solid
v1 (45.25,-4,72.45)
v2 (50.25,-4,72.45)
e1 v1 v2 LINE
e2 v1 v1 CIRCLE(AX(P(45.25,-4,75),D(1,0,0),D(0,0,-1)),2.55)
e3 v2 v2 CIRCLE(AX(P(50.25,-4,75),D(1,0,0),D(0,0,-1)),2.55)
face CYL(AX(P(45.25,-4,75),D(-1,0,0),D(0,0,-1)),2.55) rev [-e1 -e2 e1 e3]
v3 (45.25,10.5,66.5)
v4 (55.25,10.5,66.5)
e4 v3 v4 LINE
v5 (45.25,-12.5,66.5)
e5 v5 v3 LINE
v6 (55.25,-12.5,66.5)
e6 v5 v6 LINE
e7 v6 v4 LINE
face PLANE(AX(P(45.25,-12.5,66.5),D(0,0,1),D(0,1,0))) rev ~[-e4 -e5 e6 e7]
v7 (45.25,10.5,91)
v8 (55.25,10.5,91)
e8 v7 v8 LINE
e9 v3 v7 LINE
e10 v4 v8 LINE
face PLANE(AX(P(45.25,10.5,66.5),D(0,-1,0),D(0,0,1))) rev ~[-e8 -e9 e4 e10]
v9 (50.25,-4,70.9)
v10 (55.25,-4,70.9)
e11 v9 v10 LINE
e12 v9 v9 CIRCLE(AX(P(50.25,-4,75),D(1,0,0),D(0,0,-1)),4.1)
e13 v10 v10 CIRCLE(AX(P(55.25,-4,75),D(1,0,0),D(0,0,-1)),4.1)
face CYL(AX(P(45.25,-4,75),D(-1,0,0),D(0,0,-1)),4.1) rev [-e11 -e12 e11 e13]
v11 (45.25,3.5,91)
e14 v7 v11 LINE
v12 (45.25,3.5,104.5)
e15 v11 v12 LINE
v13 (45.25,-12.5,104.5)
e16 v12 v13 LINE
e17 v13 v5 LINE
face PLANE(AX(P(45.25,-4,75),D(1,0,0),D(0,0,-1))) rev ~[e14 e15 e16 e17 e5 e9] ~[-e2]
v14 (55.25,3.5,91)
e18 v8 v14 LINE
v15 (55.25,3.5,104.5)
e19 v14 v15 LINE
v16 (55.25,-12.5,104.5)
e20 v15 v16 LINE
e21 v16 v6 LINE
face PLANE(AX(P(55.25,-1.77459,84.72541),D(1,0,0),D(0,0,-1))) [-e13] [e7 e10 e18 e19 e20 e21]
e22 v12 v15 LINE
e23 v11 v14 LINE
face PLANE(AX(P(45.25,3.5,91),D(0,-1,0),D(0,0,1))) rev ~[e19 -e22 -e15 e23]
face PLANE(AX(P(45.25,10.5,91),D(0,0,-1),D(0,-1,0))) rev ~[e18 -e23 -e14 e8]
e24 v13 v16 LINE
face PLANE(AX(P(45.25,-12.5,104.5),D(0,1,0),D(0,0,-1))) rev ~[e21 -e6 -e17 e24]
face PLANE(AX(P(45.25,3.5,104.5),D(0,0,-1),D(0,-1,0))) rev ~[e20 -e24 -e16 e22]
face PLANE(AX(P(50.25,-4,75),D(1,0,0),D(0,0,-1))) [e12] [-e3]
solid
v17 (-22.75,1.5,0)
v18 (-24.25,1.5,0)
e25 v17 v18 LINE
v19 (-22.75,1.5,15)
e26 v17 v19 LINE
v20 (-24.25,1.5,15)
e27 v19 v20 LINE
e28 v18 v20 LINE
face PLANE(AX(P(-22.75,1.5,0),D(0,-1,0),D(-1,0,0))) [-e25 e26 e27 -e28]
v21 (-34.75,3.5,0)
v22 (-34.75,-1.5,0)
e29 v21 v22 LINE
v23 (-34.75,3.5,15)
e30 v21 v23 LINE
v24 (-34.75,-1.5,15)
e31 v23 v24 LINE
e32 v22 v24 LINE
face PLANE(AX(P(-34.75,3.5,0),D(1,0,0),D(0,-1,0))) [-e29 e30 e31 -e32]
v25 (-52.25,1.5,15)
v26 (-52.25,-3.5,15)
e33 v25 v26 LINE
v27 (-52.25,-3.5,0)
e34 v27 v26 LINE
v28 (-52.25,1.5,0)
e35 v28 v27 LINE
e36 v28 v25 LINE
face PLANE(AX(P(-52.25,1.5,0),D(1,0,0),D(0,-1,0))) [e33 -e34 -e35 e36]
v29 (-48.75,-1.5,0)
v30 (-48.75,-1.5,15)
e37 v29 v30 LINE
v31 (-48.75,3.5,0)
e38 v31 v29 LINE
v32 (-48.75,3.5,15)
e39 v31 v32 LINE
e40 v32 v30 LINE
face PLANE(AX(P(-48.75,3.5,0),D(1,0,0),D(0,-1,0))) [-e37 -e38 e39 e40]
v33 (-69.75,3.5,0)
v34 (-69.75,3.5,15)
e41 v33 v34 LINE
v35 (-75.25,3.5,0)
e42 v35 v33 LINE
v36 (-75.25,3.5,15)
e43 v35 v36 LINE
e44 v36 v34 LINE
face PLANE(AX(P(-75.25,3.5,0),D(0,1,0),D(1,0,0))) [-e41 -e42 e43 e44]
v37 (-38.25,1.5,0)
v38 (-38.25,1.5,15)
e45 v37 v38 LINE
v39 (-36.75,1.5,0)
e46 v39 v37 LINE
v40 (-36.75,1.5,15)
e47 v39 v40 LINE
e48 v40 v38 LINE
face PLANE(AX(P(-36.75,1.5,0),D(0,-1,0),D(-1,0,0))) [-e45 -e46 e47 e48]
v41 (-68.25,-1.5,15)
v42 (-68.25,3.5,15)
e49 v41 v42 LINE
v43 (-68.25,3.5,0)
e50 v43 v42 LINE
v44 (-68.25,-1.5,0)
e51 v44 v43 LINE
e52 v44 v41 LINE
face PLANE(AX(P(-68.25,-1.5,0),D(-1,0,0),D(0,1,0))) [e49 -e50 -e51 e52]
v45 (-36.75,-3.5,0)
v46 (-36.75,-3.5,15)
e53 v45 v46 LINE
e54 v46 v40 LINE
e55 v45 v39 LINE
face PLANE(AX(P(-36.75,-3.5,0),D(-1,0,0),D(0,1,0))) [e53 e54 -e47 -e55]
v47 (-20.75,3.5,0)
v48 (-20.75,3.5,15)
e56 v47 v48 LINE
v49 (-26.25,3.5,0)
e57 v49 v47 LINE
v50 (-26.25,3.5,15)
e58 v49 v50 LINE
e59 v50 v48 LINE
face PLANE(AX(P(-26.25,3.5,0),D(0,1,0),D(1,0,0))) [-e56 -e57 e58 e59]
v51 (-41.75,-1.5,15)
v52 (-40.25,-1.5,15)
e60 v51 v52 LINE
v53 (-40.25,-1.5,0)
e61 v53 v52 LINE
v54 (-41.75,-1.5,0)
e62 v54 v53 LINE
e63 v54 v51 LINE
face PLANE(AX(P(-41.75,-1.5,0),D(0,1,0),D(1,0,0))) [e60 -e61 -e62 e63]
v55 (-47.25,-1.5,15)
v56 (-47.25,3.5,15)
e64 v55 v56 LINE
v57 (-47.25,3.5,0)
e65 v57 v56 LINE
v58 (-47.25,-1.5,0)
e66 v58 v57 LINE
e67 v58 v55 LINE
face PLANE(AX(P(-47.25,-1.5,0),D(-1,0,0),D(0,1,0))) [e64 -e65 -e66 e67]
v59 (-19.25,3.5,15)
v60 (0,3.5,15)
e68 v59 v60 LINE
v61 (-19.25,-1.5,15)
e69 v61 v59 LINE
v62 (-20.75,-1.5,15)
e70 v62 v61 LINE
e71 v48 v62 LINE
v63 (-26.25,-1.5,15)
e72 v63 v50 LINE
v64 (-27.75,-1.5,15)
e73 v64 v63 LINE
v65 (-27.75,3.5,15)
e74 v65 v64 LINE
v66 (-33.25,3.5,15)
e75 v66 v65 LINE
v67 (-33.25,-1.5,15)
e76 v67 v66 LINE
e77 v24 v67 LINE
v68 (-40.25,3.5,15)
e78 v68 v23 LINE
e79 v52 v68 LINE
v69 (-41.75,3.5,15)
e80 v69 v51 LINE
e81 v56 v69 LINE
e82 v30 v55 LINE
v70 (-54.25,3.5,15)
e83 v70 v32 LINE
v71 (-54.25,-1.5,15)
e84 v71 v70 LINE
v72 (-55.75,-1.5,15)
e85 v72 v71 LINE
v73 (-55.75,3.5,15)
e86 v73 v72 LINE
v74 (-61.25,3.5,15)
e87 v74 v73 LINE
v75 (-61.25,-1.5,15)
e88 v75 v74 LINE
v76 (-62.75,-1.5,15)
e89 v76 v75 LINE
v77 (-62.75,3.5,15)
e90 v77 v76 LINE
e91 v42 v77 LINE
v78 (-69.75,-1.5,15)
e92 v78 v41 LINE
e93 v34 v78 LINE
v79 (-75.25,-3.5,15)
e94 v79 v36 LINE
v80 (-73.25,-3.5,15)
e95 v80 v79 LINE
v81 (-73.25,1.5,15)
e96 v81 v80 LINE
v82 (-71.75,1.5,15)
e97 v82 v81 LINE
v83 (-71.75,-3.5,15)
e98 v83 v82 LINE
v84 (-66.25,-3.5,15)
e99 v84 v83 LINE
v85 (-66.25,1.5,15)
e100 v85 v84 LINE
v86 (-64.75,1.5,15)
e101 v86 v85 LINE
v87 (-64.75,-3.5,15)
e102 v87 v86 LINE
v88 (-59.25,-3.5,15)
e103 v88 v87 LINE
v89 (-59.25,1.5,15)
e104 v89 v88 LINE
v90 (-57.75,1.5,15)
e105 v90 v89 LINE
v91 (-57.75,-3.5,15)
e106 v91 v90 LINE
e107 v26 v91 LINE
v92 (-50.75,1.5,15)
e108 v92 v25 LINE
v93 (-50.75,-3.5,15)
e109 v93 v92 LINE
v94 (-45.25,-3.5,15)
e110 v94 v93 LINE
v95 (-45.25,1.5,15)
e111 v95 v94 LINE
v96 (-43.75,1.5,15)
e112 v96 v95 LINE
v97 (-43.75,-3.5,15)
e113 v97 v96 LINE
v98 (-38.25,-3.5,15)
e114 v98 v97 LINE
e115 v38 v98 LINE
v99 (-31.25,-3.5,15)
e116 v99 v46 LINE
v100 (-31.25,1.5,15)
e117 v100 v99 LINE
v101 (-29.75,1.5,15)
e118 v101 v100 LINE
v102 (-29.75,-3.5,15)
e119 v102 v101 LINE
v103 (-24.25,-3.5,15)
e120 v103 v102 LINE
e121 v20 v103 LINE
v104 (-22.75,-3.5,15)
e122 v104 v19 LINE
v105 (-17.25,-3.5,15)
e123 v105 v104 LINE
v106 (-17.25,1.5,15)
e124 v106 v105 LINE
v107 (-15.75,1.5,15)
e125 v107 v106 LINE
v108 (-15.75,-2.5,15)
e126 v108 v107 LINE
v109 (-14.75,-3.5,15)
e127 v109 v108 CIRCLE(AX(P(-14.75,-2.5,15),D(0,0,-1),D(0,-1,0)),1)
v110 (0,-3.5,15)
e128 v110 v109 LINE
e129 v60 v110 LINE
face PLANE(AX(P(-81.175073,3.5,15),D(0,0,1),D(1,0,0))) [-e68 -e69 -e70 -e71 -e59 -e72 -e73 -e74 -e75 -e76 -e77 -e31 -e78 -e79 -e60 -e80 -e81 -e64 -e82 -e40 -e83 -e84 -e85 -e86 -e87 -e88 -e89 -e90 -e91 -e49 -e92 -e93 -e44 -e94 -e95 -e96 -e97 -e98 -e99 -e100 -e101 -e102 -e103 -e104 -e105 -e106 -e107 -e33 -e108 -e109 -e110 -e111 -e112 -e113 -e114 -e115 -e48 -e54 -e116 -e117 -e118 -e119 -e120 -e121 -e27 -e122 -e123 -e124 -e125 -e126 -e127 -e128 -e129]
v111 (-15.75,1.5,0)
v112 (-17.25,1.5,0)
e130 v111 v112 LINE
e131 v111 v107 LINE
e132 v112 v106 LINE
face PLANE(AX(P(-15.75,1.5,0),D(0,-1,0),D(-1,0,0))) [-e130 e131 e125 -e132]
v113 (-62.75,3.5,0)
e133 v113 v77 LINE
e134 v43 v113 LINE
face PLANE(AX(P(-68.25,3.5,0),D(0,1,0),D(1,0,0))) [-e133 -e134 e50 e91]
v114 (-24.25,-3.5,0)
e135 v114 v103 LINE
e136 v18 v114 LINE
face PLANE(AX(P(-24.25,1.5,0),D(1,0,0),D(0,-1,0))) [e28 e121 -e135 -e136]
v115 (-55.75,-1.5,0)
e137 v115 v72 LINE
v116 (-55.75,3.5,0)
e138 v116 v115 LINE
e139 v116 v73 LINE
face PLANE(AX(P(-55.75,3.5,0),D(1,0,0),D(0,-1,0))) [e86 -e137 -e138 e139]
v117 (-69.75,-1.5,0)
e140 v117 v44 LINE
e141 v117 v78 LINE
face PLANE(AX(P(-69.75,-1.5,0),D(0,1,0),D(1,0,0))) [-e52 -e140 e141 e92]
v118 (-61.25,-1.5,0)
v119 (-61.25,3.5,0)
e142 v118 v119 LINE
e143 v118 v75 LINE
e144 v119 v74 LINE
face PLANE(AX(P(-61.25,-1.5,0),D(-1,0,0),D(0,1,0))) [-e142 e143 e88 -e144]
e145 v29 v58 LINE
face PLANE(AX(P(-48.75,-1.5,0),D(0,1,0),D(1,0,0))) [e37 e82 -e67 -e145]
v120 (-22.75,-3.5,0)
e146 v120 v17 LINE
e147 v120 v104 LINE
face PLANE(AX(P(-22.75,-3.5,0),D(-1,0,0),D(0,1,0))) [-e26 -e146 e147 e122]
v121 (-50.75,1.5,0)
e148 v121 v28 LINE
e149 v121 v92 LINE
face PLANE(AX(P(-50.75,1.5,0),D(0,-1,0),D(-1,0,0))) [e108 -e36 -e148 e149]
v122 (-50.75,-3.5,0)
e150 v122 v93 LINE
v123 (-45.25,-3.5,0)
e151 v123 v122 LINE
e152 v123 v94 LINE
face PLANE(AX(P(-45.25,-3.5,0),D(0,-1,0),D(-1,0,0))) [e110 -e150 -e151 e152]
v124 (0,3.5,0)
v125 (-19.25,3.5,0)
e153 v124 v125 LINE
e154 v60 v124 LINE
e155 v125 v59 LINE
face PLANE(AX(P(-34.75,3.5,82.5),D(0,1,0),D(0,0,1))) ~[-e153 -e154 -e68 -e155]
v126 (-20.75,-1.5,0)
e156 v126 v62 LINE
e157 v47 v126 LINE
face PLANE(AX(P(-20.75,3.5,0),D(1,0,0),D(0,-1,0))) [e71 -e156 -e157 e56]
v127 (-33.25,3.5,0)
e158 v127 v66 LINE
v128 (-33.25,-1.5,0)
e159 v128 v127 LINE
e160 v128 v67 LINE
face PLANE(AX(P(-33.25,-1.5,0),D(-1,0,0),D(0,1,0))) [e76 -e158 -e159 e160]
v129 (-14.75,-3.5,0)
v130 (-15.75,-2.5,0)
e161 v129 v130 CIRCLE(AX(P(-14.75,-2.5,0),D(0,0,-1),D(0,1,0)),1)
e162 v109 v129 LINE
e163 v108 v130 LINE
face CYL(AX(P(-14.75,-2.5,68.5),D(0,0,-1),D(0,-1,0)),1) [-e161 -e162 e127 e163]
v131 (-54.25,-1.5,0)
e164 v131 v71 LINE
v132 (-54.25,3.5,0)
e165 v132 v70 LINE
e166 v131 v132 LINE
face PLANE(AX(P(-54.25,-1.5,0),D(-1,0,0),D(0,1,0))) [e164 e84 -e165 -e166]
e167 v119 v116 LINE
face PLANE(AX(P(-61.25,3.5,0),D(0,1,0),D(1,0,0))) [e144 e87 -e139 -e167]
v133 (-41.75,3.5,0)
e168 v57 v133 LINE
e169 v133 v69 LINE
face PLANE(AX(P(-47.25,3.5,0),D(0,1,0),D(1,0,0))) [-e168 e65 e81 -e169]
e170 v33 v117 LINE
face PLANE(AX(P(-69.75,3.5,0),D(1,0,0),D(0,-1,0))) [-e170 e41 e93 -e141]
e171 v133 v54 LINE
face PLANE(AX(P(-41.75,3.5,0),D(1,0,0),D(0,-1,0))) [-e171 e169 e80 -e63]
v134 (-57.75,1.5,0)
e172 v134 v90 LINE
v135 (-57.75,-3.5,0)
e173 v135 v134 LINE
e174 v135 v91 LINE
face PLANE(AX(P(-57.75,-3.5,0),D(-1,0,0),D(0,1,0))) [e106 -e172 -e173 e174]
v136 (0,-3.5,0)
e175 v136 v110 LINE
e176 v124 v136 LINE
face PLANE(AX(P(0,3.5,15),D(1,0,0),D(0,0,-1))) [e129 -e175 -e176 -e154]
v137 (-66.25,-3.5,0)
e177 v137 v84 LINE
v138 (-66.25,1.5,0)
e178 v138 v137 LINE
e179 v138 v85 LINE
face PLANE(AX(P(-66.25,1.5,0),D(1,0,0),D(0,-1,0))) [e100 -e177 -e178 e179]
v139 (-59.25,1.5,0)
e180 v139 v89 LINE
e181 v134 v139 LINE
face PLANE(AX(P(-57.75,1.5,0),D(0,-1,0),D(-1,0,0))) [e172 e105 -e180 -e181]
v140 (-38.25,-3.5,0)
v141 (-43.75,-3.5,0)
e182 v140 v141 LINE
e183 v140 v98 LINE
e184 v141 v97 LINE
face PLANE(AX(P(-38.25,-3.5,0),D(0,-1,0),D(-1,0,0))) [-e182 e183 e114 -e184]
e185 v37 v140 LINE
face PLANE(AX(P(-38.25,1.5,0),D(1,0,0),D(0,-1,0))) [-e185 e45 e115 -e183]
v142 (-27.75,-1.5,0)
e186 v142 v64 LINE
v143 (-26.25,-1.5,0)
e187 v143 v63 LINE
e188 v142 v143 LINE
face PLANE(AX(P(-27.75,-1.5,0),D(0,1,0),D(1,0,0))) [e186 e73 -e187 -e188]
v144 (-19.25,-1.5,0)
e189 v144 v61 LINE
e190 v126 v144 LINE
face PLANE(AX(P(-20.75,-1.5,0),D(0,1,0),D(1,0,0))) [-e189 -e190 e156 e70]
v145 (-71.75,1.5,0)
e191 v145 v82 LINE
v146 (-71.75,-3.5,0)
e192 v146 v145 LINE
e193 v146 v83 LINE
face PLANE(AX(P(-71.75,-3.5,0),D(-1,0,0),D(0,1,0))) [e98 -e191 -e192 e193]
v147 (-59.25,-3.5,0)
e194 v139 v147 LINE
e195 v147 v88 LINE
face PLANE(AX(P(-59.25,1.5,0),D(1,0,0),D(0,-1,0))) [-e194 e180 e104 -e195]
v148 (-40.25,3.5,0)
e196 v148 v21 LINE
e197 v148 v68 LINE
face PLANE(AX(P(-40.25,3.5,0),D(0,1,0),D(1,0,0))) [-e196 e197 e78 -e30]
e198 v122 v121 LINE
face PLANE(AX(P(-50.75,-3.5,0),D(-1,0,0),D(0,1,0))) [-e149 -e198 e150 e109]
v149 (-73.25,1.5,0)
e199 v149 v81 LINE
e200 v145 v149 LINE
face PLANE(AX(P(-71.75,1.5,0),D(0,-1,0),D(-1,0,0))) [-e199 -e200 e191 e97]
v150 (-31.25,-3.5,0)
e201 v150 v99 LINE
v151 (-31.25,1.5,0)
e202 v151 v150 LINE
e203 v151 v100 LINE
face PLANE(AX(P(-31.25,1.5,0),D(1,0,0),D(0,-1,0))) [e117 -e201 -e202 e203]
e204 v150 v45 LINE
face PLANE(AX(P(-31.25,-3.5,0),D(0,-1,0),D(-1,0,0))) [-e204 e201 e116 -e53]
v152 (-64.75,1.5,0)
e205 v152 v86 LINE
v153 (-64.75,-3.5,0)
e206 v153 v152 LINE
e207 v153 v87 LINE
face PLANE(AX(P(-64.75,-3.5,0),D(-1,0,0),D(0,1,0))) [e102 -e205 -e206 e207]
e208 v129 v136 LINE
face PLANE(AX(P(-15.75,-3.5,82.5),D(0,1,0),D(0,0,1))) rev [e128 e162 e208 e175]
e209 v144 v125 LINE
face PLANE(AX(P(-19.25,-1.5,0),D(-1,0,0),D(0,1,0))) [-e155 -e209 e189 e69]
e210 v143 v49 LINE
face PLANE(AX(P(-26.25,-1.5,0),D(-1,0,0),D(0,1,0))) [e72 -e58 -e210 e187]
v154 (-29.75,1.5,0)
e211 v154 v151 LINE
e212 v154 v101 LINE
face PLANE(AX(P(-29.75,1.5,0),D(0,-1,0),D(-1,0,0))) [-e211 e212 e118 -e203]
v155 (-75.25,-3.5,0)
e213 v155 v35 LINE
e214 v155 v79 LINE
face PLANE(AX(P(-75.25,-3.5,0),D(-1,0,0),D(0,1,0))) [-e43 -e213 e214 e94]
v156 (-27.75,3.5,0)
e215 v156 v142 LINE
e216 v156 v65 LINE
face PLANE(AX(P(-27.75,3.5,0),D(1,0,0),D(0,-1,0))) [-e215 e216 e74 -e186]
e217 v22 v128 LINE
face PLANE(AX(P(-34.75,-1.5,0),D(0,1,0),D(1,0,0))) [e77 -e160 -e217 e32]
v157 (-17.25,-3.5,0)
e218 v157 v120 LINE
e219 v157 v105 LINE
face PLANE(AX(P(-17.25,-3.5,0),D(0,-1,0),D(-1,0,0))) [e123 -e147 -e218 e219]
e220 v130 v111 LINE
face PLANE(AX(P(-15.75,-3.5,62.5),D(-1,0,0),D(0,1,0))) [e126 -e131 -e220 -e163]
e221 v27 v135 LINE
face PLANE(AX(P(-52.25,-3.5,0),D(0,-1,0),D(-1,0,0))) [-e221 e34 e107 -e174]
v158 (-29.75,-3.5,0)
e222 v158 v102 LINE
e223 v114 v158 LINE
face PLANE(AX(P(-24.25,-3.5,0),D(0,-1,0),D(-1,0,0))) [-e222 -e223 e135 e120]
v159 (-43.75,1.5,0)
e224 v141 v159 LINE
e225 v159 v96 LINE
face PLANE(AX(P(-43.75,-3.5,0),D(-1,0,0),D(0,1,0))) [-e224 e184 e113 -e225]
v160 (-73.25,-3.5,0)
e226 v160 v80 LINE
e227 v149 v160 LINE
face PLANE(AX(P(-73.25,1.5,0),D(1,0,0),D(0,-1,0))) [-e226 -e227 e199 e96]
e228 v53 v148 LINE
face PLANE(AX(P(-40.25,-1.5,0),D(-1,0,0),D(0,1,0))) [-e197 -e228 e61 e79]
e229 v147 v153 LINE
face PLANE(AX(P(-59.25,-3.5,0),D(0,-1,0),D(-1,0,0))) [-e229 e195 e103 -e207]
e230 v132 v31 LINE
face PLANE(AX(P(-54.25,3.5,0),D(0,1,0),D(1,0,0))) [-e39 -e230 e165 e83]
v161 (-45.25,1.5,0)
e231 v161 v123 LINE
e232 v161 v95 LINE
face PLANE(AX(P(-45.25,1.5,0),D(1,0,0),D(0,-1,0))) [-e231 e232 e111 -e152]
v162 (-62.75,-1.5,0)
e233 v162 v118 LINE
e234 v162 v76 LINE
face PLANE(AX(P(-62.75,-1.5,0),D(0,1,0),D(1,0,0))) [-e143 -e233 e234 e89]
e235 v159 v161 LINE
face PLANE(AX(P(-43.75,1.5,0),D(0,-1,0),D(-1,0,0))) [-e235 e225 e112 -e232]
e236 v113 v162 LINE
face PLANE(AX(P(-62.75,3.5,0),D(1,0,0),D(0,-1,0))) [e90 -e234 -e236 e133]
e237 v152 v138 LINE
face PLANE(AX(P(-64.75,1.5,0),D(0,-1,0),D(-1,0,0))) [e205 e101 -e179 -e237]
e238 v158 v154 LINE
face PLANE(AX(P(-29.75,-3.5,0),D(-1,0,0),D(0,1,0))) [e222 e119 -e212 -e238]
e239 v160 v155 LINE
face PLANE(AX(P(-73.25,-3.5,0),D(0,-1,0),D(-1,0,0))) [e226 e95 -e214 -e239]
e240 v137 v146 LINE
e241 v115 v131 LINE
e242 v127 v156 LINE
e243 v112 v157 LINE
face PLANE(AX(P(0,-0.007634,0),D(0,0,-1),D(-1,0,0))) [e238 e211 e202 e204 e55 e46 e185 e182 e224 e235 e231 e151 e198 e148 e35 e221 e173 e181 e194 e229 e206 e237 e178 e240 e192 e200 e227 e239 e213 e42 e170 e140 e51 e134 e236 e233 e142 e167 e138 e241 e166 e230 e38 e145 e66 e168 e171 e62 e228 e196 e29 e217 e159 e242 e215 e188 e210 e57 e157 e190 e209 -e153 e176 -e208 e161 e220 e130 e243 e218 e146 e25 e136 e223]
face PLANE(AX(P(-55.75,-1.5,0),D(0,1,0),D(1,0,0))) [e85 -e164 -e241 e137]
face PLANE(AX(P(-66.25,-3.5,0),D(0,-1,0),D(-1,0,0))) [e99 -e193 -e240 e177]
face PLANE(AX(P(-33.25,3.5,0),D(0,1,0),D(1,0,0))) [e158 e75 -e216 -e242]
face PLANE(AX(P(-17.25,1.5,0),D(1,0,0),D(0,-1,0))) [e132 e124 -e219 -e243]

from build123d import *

# Parameters (mm, degrees)
BOSS_EXTRUDE1_DEPTH = 62.5
SKETCH2_W           = 31.5
SKETCH2_H           = 7
BOSS_EXTRUDE2_DEPTH = 20
SKETCH3_W           = 15
SKETCH3_H           = 7
BOSS_EXTRUDE3_DEPTH = 19
SKETCH4_W           = 15
SKETCH4_H           = 15
BOSS_EXTRUDE4_DEPTH = 10
SKETCH5_R           = 3.71375
CUT_EXTRUDE1_DEPTH  = 7
FILLET1_R           = 1
FILLET2_R           = 1
SKETCH7_R           = 4.1
BOSS_EXTRUDE5_DEPTH = 10
SKETCH7_3_R         = 4.1
SKETCH7_3_R_2       = 2.55
BOSS_EXTRUDE6_DEPTH = 5
SKETCH8_W           = 8
SKETCH8_H           = 50
BOSS_EXTRUDE7_DEPTH = 7
SKETCH9_W           = 3
SKETCH9_H           = 40
CUT_EXTRUDE2_DEPTH  = 10
CUT_EXTRUDE3_DEPTH  = 134.333463542


with BuildPart() as part:
    # Sketch1 → Boss-Extrude1 (new body)
    with BuildSketch(Plane.XY):
        Polygon((13.75, -3.5), (-13.75, -3.5), (-15.75, -3.5), (-15.75, 1.5), (-17.25, 1.5), (-17.25, -3.5), (-22.75, -3.5), (-22.75, 1.5), (-24.25, 1.5), (-24.25, -3.5), (-29.75, -3.5), (-29.75, 1.5), (-31.25, 1.5), (-31.25, -3.5), (-36.75, -3.5), (-36.75, 1.5), (-38.25, 1.5), (-38.25, -3.5), (-43.75, -3.5), (-43.75, 1.5), (-45.25, 1.5), (-45.25, -3.5), (-50.75, -3.5), (-50.75, 1.5), (-52.25, 1.5), (-52.25, -3.5), (-57.75, -3.5), (-57.75, 1.5), (-59.25, 1.5), (-59.25, -3.5), (-64.75, -3.5), (-64.75, 1.5), (-66.25, 1.5), (-66.25, -3.5), (-71.75, -3.5), (-71.75, 1.5), (-73.25, 1.5), (-73.25, -3.5), (-75.25, -3.5), (-75.25, 3.5), (-69.75, 3.5), (-69.75, -1.5), (-68.25, -1.5), (-68.25, 3.5), (-62.75, 3.5), (-62.75, -1.5), (-61.25, -1.5), (-61.25, 3.5), (-55.75, 3.5), (-55.75, -1.5), (-54.25, -1.5), (-54.25, 3.5), (-48.75, 3.5), (-48.75, -1.5), (-47.25, -1.5), (-47.25, 3.5), (-41.75, 3.5), (-41.75, -1.5), (-40.25, -1.5), (-40.25, 3.5), (-34.75, 3.5), (-34.75, -1.5), (-33.25, -1.5), (-33.25, 3.5), (-27.75, 3.5), (-27.75, -1.5), (-26.25, -1.5), (-26.25, 3.5), (-20.75, 3.5), (-20.75, -1.5), (-19.25, -1.5), (-19.25, 3.5), (-13.75, 3.5), (13.75, 3.5), (19.25, 3.5), (19.25, -1.5), (20.75, -1.5), (20.75, 3.5), (26.25, 3.5), (26.25, -1.5), (27.75, -1.5), (27.75, 3.5), (33.25, 3.5), (33.25, -1.5), (34.75, -1.5), (34.75, 3.5), (40.25, 3.5), (40.25, -1.5), (41.75, -1.5), (41.75, 3.5), (47.25, 3.5), (47.25, -1.5), (48.75, -1.5), (48.75, 3.5), (54.25, 3.5), (54.25, -1.5), (55.75, -1.5), (55.75, 3.5), (61.25, 3.5), (61.25, -1.5), (62.75, -1.5), (62.75, 3.5), (68.25, 3.5), (68.25, -1.5), (69.75, -1.5), (69.75, 3.5), (75.25, 3.5), (75.25, -3.5), (73.25, -3.5), (73.25, 1.5), (71.75, 1.5), (71.75, -3.5), (66.25, -3.5), (66.25, 1.5), (64.75, 1.5), (64.75, -3.5), (59.25, -3.5), (59.25, 1.5), (57.75, 1.5), (57.75, -3.5), (52.25, -3.5), (52.25, 1.5), (50.75, 1.5), (50.75, -3.5), (45.25, -3.5), (45.25, 1.5), (43.75, 1.5), (43.75, -3.5), (38.25, -3.5), (38.25, 1.5), (36.75, 1.5), (36.75, -3.5), (31.25, -3.5), (31.25, 1.5), (29.75, 1.5), (29.75, -3.5), (24.25, -3.5), (24.25, 1.5), (22.75, 1.5), (22.75, -3.5), (17.25, -3.5), (17.25, 1.5), (15.75, 1.5), (15.75, -3.5), align=None)
    extrude(amount=BOSS_EXTRUDE1_DEPTH)

    # Sketch2 → Boss-Extrude2 (add)
    with BuildSketch(Plane.XY.offset(62.5)):
        Rectangle(SKETCH2_W, SKETCH2_H)
    extrude(amount=BOSS_EXTRUDE2_DEPTH)

    # Sketch3 → Boss-Extrude3 (add)
    with BuildSketch(Plane(origin=(15.75, 0, 0), x_dir=(0, 0, -1), z_dir=(1, 0, 0))):
        with Locations((-75, 0)):
            Rectangle(SKETCH3_W, SKETCH3_H)
    boss_extrude3 = extrude(amount=BOSS_EXTRUDE3_DEPTH)

    # Mirror1: Boss-Extrude3 across plane
    add(boss_extrude3.mirror(Plane(origin=(0, 0, 0), x_dir=(0, 0, 1), z_dir=(1, 0, 0))))

    # Sketch4 → Boss-Extrude4 (add)
    with BuildSketch(Plane(origin=(34.75, 0, 0), x_dir=(0, 0, -1), z_dir=(1, 0, 0))):
        with Locations((-75, -4)):
            Rectangle(SKETCH4_W, SKETCH4_H)
    boss_extrude4 = extrude(amount=BOSS_EXTRUDE4_DEPTH)

    # Mirror2: Boss-Extrude4 across plane
    add(boss_extrude4.mirror(Plane(origin=(0, 0, 0), x_dir=(0, 0, 1), z_dir=(1, 0, 0))))

    # Sketch5 → Cut-Extrude1 (cut)
    with BuildSketch(Plane(origin=(44.75, 0, 0), x_dir=(0, 0, -1), z_dir=(1, 0, 0))):
        with Locations((-75, -4)):
            Circle(SKETCH5_R)
    cut_extrude1 = extrude(amount=-CUT_EXTRUDE1_DEPTH, mode=Mode.SUBTRACT)

    # Mirror3: Cut-Extrude1 across plane
    add(cut_extrude1.mirror(Plane(origin=(0, 0, 0), x_dir=(0, 0, 1), z_dir=(1, 0, 0))), mode=Mode.SUBTRACT)

    # Fillet1
    fillet1_edges = [part.edges().sort_by_distance(p)[0] for p in [
        (-34.75, -7.5, 82.5),
        (-25.25, -3.5, 67.5),
        (0, -3.5, 82.5),
        (25.25, -3.5, 67.5),
        (34.75, -11.5, 75),
        (-34.75, -11.5, 75),
        (-34.75, -7.5, 67.5),
        (34.75, -7.5, 82.5),
        (34.75, -7.5, 67.5),
        (-44.75, 3.5, 75),
        (34.75, -3.5, 75),
        (-34.75, -3.5, 75),
        (44.75, -4, 82.5),
        (44.75, -11.5, 75),
        (44.75, 3.5, 75),
        (44.75, -4, 67.5),
        (39.75, -11.5, 67.5),
        (-39.75, -11.5, 67.5),
        (-44.75, -11.5, 75),
        (-44.75, -4, 67.5),
        (-44.75, -4, 82.5),
        (0, 3.5, 82.5),
    ]]
    fillet(fillet1_edges, radius=FILLET1_R)

    # Fillet2
    fillet2_edges = [part.edges().sort_by_distance(p)[0] for p in [
        (15.75, -3.5, 34.25),
        (-15.75, -3.5, 34.25),
    ]]
    fillet(fillet2_edges, radius=FILLET2_R)

    # Sketch8 → Boss-Extrude7 (add)
    with BuildSketch(Plane(origin=(0, 3.5, 0), x_dir=(1, 0, 0), z_dir=(0, 1, 0))):
        with Locations((77.25, -31.25)):
            Rectangle(SKETCH8_W, SKETCH8_H)
    extrude(amount=-BOSS_EXTRUDE7_DEPTH)

    # Sketch9 → Cut-Extrude2 (cut)
    with BuildSketch(Plane(origin=(0, 3.5, 0), x_dir=(1, 0, 0), z_dir=(0, 1, 0))):
        with Locations((77.25, -31.25)):
            Rectangle(SKETCH9_W, SKETCH9_H)
    extrude(amount=-CUT_EXTRUDE2_DEPTH, mode=Mode.SUBTRACT)

    # Sketch10 → Cut-Extrude3 (cut, through all)
    with BuildSketch(Plane(origin=(0, 3.5, 0), x_dir=(1, 0, 0), z_dir=(0, 1, 0))):
        Polygon((0, 0), (86.365697076, 0), (86.365697076, -92.937569977), (-81.175072776, -92.937569977), (-81.175072776, -15), (0, -15), align=None)
    extrude(amount=-CUT_EXTRUDE3_DEPTH, mode=Mode.SUBTRACT)


with BuildPart() as body_2:
    # Sketch7 → Boss-Extrude5 (new body)
    with BuildSketch(Plane(origin=(45.25, 0, 0), x_dir=(0, 0, -1), z_dir=(1, 0, 0))):
        Polygon((-91, -12.5), (-66.5, -12.5), (-66.5, 10.5), (-91, 10.5), (-91, 3.5), (-104.5, 3.5), (-104.5, -12.5), align=None)
        with Locations((-75, -4)):
            Circle(SKETCH7_R, mode=Mode.SUBTRACT)
    extrude(amount=BOSS_EXTRUDE5_DEPTH)

    # Sketch7<3> → Boss-Extrude6 (add)
    with BuildSketch(Plane(origin=(45.25, 0, 0), x_dir=(0, 0, -1), z_dir=(1, 0, 0))):
        with Locations((-75, -4)):
            Circle(SKETCH7_3_R)
        with Locations((-75, -4)):
            Circle(SKETCH7_3_R_2, mode=Mode.SUBTRACT)
    extrude(amount=BOSS_EXTRUDE6_DEPTH)


solid = Compound([part.part, body_2.part])
